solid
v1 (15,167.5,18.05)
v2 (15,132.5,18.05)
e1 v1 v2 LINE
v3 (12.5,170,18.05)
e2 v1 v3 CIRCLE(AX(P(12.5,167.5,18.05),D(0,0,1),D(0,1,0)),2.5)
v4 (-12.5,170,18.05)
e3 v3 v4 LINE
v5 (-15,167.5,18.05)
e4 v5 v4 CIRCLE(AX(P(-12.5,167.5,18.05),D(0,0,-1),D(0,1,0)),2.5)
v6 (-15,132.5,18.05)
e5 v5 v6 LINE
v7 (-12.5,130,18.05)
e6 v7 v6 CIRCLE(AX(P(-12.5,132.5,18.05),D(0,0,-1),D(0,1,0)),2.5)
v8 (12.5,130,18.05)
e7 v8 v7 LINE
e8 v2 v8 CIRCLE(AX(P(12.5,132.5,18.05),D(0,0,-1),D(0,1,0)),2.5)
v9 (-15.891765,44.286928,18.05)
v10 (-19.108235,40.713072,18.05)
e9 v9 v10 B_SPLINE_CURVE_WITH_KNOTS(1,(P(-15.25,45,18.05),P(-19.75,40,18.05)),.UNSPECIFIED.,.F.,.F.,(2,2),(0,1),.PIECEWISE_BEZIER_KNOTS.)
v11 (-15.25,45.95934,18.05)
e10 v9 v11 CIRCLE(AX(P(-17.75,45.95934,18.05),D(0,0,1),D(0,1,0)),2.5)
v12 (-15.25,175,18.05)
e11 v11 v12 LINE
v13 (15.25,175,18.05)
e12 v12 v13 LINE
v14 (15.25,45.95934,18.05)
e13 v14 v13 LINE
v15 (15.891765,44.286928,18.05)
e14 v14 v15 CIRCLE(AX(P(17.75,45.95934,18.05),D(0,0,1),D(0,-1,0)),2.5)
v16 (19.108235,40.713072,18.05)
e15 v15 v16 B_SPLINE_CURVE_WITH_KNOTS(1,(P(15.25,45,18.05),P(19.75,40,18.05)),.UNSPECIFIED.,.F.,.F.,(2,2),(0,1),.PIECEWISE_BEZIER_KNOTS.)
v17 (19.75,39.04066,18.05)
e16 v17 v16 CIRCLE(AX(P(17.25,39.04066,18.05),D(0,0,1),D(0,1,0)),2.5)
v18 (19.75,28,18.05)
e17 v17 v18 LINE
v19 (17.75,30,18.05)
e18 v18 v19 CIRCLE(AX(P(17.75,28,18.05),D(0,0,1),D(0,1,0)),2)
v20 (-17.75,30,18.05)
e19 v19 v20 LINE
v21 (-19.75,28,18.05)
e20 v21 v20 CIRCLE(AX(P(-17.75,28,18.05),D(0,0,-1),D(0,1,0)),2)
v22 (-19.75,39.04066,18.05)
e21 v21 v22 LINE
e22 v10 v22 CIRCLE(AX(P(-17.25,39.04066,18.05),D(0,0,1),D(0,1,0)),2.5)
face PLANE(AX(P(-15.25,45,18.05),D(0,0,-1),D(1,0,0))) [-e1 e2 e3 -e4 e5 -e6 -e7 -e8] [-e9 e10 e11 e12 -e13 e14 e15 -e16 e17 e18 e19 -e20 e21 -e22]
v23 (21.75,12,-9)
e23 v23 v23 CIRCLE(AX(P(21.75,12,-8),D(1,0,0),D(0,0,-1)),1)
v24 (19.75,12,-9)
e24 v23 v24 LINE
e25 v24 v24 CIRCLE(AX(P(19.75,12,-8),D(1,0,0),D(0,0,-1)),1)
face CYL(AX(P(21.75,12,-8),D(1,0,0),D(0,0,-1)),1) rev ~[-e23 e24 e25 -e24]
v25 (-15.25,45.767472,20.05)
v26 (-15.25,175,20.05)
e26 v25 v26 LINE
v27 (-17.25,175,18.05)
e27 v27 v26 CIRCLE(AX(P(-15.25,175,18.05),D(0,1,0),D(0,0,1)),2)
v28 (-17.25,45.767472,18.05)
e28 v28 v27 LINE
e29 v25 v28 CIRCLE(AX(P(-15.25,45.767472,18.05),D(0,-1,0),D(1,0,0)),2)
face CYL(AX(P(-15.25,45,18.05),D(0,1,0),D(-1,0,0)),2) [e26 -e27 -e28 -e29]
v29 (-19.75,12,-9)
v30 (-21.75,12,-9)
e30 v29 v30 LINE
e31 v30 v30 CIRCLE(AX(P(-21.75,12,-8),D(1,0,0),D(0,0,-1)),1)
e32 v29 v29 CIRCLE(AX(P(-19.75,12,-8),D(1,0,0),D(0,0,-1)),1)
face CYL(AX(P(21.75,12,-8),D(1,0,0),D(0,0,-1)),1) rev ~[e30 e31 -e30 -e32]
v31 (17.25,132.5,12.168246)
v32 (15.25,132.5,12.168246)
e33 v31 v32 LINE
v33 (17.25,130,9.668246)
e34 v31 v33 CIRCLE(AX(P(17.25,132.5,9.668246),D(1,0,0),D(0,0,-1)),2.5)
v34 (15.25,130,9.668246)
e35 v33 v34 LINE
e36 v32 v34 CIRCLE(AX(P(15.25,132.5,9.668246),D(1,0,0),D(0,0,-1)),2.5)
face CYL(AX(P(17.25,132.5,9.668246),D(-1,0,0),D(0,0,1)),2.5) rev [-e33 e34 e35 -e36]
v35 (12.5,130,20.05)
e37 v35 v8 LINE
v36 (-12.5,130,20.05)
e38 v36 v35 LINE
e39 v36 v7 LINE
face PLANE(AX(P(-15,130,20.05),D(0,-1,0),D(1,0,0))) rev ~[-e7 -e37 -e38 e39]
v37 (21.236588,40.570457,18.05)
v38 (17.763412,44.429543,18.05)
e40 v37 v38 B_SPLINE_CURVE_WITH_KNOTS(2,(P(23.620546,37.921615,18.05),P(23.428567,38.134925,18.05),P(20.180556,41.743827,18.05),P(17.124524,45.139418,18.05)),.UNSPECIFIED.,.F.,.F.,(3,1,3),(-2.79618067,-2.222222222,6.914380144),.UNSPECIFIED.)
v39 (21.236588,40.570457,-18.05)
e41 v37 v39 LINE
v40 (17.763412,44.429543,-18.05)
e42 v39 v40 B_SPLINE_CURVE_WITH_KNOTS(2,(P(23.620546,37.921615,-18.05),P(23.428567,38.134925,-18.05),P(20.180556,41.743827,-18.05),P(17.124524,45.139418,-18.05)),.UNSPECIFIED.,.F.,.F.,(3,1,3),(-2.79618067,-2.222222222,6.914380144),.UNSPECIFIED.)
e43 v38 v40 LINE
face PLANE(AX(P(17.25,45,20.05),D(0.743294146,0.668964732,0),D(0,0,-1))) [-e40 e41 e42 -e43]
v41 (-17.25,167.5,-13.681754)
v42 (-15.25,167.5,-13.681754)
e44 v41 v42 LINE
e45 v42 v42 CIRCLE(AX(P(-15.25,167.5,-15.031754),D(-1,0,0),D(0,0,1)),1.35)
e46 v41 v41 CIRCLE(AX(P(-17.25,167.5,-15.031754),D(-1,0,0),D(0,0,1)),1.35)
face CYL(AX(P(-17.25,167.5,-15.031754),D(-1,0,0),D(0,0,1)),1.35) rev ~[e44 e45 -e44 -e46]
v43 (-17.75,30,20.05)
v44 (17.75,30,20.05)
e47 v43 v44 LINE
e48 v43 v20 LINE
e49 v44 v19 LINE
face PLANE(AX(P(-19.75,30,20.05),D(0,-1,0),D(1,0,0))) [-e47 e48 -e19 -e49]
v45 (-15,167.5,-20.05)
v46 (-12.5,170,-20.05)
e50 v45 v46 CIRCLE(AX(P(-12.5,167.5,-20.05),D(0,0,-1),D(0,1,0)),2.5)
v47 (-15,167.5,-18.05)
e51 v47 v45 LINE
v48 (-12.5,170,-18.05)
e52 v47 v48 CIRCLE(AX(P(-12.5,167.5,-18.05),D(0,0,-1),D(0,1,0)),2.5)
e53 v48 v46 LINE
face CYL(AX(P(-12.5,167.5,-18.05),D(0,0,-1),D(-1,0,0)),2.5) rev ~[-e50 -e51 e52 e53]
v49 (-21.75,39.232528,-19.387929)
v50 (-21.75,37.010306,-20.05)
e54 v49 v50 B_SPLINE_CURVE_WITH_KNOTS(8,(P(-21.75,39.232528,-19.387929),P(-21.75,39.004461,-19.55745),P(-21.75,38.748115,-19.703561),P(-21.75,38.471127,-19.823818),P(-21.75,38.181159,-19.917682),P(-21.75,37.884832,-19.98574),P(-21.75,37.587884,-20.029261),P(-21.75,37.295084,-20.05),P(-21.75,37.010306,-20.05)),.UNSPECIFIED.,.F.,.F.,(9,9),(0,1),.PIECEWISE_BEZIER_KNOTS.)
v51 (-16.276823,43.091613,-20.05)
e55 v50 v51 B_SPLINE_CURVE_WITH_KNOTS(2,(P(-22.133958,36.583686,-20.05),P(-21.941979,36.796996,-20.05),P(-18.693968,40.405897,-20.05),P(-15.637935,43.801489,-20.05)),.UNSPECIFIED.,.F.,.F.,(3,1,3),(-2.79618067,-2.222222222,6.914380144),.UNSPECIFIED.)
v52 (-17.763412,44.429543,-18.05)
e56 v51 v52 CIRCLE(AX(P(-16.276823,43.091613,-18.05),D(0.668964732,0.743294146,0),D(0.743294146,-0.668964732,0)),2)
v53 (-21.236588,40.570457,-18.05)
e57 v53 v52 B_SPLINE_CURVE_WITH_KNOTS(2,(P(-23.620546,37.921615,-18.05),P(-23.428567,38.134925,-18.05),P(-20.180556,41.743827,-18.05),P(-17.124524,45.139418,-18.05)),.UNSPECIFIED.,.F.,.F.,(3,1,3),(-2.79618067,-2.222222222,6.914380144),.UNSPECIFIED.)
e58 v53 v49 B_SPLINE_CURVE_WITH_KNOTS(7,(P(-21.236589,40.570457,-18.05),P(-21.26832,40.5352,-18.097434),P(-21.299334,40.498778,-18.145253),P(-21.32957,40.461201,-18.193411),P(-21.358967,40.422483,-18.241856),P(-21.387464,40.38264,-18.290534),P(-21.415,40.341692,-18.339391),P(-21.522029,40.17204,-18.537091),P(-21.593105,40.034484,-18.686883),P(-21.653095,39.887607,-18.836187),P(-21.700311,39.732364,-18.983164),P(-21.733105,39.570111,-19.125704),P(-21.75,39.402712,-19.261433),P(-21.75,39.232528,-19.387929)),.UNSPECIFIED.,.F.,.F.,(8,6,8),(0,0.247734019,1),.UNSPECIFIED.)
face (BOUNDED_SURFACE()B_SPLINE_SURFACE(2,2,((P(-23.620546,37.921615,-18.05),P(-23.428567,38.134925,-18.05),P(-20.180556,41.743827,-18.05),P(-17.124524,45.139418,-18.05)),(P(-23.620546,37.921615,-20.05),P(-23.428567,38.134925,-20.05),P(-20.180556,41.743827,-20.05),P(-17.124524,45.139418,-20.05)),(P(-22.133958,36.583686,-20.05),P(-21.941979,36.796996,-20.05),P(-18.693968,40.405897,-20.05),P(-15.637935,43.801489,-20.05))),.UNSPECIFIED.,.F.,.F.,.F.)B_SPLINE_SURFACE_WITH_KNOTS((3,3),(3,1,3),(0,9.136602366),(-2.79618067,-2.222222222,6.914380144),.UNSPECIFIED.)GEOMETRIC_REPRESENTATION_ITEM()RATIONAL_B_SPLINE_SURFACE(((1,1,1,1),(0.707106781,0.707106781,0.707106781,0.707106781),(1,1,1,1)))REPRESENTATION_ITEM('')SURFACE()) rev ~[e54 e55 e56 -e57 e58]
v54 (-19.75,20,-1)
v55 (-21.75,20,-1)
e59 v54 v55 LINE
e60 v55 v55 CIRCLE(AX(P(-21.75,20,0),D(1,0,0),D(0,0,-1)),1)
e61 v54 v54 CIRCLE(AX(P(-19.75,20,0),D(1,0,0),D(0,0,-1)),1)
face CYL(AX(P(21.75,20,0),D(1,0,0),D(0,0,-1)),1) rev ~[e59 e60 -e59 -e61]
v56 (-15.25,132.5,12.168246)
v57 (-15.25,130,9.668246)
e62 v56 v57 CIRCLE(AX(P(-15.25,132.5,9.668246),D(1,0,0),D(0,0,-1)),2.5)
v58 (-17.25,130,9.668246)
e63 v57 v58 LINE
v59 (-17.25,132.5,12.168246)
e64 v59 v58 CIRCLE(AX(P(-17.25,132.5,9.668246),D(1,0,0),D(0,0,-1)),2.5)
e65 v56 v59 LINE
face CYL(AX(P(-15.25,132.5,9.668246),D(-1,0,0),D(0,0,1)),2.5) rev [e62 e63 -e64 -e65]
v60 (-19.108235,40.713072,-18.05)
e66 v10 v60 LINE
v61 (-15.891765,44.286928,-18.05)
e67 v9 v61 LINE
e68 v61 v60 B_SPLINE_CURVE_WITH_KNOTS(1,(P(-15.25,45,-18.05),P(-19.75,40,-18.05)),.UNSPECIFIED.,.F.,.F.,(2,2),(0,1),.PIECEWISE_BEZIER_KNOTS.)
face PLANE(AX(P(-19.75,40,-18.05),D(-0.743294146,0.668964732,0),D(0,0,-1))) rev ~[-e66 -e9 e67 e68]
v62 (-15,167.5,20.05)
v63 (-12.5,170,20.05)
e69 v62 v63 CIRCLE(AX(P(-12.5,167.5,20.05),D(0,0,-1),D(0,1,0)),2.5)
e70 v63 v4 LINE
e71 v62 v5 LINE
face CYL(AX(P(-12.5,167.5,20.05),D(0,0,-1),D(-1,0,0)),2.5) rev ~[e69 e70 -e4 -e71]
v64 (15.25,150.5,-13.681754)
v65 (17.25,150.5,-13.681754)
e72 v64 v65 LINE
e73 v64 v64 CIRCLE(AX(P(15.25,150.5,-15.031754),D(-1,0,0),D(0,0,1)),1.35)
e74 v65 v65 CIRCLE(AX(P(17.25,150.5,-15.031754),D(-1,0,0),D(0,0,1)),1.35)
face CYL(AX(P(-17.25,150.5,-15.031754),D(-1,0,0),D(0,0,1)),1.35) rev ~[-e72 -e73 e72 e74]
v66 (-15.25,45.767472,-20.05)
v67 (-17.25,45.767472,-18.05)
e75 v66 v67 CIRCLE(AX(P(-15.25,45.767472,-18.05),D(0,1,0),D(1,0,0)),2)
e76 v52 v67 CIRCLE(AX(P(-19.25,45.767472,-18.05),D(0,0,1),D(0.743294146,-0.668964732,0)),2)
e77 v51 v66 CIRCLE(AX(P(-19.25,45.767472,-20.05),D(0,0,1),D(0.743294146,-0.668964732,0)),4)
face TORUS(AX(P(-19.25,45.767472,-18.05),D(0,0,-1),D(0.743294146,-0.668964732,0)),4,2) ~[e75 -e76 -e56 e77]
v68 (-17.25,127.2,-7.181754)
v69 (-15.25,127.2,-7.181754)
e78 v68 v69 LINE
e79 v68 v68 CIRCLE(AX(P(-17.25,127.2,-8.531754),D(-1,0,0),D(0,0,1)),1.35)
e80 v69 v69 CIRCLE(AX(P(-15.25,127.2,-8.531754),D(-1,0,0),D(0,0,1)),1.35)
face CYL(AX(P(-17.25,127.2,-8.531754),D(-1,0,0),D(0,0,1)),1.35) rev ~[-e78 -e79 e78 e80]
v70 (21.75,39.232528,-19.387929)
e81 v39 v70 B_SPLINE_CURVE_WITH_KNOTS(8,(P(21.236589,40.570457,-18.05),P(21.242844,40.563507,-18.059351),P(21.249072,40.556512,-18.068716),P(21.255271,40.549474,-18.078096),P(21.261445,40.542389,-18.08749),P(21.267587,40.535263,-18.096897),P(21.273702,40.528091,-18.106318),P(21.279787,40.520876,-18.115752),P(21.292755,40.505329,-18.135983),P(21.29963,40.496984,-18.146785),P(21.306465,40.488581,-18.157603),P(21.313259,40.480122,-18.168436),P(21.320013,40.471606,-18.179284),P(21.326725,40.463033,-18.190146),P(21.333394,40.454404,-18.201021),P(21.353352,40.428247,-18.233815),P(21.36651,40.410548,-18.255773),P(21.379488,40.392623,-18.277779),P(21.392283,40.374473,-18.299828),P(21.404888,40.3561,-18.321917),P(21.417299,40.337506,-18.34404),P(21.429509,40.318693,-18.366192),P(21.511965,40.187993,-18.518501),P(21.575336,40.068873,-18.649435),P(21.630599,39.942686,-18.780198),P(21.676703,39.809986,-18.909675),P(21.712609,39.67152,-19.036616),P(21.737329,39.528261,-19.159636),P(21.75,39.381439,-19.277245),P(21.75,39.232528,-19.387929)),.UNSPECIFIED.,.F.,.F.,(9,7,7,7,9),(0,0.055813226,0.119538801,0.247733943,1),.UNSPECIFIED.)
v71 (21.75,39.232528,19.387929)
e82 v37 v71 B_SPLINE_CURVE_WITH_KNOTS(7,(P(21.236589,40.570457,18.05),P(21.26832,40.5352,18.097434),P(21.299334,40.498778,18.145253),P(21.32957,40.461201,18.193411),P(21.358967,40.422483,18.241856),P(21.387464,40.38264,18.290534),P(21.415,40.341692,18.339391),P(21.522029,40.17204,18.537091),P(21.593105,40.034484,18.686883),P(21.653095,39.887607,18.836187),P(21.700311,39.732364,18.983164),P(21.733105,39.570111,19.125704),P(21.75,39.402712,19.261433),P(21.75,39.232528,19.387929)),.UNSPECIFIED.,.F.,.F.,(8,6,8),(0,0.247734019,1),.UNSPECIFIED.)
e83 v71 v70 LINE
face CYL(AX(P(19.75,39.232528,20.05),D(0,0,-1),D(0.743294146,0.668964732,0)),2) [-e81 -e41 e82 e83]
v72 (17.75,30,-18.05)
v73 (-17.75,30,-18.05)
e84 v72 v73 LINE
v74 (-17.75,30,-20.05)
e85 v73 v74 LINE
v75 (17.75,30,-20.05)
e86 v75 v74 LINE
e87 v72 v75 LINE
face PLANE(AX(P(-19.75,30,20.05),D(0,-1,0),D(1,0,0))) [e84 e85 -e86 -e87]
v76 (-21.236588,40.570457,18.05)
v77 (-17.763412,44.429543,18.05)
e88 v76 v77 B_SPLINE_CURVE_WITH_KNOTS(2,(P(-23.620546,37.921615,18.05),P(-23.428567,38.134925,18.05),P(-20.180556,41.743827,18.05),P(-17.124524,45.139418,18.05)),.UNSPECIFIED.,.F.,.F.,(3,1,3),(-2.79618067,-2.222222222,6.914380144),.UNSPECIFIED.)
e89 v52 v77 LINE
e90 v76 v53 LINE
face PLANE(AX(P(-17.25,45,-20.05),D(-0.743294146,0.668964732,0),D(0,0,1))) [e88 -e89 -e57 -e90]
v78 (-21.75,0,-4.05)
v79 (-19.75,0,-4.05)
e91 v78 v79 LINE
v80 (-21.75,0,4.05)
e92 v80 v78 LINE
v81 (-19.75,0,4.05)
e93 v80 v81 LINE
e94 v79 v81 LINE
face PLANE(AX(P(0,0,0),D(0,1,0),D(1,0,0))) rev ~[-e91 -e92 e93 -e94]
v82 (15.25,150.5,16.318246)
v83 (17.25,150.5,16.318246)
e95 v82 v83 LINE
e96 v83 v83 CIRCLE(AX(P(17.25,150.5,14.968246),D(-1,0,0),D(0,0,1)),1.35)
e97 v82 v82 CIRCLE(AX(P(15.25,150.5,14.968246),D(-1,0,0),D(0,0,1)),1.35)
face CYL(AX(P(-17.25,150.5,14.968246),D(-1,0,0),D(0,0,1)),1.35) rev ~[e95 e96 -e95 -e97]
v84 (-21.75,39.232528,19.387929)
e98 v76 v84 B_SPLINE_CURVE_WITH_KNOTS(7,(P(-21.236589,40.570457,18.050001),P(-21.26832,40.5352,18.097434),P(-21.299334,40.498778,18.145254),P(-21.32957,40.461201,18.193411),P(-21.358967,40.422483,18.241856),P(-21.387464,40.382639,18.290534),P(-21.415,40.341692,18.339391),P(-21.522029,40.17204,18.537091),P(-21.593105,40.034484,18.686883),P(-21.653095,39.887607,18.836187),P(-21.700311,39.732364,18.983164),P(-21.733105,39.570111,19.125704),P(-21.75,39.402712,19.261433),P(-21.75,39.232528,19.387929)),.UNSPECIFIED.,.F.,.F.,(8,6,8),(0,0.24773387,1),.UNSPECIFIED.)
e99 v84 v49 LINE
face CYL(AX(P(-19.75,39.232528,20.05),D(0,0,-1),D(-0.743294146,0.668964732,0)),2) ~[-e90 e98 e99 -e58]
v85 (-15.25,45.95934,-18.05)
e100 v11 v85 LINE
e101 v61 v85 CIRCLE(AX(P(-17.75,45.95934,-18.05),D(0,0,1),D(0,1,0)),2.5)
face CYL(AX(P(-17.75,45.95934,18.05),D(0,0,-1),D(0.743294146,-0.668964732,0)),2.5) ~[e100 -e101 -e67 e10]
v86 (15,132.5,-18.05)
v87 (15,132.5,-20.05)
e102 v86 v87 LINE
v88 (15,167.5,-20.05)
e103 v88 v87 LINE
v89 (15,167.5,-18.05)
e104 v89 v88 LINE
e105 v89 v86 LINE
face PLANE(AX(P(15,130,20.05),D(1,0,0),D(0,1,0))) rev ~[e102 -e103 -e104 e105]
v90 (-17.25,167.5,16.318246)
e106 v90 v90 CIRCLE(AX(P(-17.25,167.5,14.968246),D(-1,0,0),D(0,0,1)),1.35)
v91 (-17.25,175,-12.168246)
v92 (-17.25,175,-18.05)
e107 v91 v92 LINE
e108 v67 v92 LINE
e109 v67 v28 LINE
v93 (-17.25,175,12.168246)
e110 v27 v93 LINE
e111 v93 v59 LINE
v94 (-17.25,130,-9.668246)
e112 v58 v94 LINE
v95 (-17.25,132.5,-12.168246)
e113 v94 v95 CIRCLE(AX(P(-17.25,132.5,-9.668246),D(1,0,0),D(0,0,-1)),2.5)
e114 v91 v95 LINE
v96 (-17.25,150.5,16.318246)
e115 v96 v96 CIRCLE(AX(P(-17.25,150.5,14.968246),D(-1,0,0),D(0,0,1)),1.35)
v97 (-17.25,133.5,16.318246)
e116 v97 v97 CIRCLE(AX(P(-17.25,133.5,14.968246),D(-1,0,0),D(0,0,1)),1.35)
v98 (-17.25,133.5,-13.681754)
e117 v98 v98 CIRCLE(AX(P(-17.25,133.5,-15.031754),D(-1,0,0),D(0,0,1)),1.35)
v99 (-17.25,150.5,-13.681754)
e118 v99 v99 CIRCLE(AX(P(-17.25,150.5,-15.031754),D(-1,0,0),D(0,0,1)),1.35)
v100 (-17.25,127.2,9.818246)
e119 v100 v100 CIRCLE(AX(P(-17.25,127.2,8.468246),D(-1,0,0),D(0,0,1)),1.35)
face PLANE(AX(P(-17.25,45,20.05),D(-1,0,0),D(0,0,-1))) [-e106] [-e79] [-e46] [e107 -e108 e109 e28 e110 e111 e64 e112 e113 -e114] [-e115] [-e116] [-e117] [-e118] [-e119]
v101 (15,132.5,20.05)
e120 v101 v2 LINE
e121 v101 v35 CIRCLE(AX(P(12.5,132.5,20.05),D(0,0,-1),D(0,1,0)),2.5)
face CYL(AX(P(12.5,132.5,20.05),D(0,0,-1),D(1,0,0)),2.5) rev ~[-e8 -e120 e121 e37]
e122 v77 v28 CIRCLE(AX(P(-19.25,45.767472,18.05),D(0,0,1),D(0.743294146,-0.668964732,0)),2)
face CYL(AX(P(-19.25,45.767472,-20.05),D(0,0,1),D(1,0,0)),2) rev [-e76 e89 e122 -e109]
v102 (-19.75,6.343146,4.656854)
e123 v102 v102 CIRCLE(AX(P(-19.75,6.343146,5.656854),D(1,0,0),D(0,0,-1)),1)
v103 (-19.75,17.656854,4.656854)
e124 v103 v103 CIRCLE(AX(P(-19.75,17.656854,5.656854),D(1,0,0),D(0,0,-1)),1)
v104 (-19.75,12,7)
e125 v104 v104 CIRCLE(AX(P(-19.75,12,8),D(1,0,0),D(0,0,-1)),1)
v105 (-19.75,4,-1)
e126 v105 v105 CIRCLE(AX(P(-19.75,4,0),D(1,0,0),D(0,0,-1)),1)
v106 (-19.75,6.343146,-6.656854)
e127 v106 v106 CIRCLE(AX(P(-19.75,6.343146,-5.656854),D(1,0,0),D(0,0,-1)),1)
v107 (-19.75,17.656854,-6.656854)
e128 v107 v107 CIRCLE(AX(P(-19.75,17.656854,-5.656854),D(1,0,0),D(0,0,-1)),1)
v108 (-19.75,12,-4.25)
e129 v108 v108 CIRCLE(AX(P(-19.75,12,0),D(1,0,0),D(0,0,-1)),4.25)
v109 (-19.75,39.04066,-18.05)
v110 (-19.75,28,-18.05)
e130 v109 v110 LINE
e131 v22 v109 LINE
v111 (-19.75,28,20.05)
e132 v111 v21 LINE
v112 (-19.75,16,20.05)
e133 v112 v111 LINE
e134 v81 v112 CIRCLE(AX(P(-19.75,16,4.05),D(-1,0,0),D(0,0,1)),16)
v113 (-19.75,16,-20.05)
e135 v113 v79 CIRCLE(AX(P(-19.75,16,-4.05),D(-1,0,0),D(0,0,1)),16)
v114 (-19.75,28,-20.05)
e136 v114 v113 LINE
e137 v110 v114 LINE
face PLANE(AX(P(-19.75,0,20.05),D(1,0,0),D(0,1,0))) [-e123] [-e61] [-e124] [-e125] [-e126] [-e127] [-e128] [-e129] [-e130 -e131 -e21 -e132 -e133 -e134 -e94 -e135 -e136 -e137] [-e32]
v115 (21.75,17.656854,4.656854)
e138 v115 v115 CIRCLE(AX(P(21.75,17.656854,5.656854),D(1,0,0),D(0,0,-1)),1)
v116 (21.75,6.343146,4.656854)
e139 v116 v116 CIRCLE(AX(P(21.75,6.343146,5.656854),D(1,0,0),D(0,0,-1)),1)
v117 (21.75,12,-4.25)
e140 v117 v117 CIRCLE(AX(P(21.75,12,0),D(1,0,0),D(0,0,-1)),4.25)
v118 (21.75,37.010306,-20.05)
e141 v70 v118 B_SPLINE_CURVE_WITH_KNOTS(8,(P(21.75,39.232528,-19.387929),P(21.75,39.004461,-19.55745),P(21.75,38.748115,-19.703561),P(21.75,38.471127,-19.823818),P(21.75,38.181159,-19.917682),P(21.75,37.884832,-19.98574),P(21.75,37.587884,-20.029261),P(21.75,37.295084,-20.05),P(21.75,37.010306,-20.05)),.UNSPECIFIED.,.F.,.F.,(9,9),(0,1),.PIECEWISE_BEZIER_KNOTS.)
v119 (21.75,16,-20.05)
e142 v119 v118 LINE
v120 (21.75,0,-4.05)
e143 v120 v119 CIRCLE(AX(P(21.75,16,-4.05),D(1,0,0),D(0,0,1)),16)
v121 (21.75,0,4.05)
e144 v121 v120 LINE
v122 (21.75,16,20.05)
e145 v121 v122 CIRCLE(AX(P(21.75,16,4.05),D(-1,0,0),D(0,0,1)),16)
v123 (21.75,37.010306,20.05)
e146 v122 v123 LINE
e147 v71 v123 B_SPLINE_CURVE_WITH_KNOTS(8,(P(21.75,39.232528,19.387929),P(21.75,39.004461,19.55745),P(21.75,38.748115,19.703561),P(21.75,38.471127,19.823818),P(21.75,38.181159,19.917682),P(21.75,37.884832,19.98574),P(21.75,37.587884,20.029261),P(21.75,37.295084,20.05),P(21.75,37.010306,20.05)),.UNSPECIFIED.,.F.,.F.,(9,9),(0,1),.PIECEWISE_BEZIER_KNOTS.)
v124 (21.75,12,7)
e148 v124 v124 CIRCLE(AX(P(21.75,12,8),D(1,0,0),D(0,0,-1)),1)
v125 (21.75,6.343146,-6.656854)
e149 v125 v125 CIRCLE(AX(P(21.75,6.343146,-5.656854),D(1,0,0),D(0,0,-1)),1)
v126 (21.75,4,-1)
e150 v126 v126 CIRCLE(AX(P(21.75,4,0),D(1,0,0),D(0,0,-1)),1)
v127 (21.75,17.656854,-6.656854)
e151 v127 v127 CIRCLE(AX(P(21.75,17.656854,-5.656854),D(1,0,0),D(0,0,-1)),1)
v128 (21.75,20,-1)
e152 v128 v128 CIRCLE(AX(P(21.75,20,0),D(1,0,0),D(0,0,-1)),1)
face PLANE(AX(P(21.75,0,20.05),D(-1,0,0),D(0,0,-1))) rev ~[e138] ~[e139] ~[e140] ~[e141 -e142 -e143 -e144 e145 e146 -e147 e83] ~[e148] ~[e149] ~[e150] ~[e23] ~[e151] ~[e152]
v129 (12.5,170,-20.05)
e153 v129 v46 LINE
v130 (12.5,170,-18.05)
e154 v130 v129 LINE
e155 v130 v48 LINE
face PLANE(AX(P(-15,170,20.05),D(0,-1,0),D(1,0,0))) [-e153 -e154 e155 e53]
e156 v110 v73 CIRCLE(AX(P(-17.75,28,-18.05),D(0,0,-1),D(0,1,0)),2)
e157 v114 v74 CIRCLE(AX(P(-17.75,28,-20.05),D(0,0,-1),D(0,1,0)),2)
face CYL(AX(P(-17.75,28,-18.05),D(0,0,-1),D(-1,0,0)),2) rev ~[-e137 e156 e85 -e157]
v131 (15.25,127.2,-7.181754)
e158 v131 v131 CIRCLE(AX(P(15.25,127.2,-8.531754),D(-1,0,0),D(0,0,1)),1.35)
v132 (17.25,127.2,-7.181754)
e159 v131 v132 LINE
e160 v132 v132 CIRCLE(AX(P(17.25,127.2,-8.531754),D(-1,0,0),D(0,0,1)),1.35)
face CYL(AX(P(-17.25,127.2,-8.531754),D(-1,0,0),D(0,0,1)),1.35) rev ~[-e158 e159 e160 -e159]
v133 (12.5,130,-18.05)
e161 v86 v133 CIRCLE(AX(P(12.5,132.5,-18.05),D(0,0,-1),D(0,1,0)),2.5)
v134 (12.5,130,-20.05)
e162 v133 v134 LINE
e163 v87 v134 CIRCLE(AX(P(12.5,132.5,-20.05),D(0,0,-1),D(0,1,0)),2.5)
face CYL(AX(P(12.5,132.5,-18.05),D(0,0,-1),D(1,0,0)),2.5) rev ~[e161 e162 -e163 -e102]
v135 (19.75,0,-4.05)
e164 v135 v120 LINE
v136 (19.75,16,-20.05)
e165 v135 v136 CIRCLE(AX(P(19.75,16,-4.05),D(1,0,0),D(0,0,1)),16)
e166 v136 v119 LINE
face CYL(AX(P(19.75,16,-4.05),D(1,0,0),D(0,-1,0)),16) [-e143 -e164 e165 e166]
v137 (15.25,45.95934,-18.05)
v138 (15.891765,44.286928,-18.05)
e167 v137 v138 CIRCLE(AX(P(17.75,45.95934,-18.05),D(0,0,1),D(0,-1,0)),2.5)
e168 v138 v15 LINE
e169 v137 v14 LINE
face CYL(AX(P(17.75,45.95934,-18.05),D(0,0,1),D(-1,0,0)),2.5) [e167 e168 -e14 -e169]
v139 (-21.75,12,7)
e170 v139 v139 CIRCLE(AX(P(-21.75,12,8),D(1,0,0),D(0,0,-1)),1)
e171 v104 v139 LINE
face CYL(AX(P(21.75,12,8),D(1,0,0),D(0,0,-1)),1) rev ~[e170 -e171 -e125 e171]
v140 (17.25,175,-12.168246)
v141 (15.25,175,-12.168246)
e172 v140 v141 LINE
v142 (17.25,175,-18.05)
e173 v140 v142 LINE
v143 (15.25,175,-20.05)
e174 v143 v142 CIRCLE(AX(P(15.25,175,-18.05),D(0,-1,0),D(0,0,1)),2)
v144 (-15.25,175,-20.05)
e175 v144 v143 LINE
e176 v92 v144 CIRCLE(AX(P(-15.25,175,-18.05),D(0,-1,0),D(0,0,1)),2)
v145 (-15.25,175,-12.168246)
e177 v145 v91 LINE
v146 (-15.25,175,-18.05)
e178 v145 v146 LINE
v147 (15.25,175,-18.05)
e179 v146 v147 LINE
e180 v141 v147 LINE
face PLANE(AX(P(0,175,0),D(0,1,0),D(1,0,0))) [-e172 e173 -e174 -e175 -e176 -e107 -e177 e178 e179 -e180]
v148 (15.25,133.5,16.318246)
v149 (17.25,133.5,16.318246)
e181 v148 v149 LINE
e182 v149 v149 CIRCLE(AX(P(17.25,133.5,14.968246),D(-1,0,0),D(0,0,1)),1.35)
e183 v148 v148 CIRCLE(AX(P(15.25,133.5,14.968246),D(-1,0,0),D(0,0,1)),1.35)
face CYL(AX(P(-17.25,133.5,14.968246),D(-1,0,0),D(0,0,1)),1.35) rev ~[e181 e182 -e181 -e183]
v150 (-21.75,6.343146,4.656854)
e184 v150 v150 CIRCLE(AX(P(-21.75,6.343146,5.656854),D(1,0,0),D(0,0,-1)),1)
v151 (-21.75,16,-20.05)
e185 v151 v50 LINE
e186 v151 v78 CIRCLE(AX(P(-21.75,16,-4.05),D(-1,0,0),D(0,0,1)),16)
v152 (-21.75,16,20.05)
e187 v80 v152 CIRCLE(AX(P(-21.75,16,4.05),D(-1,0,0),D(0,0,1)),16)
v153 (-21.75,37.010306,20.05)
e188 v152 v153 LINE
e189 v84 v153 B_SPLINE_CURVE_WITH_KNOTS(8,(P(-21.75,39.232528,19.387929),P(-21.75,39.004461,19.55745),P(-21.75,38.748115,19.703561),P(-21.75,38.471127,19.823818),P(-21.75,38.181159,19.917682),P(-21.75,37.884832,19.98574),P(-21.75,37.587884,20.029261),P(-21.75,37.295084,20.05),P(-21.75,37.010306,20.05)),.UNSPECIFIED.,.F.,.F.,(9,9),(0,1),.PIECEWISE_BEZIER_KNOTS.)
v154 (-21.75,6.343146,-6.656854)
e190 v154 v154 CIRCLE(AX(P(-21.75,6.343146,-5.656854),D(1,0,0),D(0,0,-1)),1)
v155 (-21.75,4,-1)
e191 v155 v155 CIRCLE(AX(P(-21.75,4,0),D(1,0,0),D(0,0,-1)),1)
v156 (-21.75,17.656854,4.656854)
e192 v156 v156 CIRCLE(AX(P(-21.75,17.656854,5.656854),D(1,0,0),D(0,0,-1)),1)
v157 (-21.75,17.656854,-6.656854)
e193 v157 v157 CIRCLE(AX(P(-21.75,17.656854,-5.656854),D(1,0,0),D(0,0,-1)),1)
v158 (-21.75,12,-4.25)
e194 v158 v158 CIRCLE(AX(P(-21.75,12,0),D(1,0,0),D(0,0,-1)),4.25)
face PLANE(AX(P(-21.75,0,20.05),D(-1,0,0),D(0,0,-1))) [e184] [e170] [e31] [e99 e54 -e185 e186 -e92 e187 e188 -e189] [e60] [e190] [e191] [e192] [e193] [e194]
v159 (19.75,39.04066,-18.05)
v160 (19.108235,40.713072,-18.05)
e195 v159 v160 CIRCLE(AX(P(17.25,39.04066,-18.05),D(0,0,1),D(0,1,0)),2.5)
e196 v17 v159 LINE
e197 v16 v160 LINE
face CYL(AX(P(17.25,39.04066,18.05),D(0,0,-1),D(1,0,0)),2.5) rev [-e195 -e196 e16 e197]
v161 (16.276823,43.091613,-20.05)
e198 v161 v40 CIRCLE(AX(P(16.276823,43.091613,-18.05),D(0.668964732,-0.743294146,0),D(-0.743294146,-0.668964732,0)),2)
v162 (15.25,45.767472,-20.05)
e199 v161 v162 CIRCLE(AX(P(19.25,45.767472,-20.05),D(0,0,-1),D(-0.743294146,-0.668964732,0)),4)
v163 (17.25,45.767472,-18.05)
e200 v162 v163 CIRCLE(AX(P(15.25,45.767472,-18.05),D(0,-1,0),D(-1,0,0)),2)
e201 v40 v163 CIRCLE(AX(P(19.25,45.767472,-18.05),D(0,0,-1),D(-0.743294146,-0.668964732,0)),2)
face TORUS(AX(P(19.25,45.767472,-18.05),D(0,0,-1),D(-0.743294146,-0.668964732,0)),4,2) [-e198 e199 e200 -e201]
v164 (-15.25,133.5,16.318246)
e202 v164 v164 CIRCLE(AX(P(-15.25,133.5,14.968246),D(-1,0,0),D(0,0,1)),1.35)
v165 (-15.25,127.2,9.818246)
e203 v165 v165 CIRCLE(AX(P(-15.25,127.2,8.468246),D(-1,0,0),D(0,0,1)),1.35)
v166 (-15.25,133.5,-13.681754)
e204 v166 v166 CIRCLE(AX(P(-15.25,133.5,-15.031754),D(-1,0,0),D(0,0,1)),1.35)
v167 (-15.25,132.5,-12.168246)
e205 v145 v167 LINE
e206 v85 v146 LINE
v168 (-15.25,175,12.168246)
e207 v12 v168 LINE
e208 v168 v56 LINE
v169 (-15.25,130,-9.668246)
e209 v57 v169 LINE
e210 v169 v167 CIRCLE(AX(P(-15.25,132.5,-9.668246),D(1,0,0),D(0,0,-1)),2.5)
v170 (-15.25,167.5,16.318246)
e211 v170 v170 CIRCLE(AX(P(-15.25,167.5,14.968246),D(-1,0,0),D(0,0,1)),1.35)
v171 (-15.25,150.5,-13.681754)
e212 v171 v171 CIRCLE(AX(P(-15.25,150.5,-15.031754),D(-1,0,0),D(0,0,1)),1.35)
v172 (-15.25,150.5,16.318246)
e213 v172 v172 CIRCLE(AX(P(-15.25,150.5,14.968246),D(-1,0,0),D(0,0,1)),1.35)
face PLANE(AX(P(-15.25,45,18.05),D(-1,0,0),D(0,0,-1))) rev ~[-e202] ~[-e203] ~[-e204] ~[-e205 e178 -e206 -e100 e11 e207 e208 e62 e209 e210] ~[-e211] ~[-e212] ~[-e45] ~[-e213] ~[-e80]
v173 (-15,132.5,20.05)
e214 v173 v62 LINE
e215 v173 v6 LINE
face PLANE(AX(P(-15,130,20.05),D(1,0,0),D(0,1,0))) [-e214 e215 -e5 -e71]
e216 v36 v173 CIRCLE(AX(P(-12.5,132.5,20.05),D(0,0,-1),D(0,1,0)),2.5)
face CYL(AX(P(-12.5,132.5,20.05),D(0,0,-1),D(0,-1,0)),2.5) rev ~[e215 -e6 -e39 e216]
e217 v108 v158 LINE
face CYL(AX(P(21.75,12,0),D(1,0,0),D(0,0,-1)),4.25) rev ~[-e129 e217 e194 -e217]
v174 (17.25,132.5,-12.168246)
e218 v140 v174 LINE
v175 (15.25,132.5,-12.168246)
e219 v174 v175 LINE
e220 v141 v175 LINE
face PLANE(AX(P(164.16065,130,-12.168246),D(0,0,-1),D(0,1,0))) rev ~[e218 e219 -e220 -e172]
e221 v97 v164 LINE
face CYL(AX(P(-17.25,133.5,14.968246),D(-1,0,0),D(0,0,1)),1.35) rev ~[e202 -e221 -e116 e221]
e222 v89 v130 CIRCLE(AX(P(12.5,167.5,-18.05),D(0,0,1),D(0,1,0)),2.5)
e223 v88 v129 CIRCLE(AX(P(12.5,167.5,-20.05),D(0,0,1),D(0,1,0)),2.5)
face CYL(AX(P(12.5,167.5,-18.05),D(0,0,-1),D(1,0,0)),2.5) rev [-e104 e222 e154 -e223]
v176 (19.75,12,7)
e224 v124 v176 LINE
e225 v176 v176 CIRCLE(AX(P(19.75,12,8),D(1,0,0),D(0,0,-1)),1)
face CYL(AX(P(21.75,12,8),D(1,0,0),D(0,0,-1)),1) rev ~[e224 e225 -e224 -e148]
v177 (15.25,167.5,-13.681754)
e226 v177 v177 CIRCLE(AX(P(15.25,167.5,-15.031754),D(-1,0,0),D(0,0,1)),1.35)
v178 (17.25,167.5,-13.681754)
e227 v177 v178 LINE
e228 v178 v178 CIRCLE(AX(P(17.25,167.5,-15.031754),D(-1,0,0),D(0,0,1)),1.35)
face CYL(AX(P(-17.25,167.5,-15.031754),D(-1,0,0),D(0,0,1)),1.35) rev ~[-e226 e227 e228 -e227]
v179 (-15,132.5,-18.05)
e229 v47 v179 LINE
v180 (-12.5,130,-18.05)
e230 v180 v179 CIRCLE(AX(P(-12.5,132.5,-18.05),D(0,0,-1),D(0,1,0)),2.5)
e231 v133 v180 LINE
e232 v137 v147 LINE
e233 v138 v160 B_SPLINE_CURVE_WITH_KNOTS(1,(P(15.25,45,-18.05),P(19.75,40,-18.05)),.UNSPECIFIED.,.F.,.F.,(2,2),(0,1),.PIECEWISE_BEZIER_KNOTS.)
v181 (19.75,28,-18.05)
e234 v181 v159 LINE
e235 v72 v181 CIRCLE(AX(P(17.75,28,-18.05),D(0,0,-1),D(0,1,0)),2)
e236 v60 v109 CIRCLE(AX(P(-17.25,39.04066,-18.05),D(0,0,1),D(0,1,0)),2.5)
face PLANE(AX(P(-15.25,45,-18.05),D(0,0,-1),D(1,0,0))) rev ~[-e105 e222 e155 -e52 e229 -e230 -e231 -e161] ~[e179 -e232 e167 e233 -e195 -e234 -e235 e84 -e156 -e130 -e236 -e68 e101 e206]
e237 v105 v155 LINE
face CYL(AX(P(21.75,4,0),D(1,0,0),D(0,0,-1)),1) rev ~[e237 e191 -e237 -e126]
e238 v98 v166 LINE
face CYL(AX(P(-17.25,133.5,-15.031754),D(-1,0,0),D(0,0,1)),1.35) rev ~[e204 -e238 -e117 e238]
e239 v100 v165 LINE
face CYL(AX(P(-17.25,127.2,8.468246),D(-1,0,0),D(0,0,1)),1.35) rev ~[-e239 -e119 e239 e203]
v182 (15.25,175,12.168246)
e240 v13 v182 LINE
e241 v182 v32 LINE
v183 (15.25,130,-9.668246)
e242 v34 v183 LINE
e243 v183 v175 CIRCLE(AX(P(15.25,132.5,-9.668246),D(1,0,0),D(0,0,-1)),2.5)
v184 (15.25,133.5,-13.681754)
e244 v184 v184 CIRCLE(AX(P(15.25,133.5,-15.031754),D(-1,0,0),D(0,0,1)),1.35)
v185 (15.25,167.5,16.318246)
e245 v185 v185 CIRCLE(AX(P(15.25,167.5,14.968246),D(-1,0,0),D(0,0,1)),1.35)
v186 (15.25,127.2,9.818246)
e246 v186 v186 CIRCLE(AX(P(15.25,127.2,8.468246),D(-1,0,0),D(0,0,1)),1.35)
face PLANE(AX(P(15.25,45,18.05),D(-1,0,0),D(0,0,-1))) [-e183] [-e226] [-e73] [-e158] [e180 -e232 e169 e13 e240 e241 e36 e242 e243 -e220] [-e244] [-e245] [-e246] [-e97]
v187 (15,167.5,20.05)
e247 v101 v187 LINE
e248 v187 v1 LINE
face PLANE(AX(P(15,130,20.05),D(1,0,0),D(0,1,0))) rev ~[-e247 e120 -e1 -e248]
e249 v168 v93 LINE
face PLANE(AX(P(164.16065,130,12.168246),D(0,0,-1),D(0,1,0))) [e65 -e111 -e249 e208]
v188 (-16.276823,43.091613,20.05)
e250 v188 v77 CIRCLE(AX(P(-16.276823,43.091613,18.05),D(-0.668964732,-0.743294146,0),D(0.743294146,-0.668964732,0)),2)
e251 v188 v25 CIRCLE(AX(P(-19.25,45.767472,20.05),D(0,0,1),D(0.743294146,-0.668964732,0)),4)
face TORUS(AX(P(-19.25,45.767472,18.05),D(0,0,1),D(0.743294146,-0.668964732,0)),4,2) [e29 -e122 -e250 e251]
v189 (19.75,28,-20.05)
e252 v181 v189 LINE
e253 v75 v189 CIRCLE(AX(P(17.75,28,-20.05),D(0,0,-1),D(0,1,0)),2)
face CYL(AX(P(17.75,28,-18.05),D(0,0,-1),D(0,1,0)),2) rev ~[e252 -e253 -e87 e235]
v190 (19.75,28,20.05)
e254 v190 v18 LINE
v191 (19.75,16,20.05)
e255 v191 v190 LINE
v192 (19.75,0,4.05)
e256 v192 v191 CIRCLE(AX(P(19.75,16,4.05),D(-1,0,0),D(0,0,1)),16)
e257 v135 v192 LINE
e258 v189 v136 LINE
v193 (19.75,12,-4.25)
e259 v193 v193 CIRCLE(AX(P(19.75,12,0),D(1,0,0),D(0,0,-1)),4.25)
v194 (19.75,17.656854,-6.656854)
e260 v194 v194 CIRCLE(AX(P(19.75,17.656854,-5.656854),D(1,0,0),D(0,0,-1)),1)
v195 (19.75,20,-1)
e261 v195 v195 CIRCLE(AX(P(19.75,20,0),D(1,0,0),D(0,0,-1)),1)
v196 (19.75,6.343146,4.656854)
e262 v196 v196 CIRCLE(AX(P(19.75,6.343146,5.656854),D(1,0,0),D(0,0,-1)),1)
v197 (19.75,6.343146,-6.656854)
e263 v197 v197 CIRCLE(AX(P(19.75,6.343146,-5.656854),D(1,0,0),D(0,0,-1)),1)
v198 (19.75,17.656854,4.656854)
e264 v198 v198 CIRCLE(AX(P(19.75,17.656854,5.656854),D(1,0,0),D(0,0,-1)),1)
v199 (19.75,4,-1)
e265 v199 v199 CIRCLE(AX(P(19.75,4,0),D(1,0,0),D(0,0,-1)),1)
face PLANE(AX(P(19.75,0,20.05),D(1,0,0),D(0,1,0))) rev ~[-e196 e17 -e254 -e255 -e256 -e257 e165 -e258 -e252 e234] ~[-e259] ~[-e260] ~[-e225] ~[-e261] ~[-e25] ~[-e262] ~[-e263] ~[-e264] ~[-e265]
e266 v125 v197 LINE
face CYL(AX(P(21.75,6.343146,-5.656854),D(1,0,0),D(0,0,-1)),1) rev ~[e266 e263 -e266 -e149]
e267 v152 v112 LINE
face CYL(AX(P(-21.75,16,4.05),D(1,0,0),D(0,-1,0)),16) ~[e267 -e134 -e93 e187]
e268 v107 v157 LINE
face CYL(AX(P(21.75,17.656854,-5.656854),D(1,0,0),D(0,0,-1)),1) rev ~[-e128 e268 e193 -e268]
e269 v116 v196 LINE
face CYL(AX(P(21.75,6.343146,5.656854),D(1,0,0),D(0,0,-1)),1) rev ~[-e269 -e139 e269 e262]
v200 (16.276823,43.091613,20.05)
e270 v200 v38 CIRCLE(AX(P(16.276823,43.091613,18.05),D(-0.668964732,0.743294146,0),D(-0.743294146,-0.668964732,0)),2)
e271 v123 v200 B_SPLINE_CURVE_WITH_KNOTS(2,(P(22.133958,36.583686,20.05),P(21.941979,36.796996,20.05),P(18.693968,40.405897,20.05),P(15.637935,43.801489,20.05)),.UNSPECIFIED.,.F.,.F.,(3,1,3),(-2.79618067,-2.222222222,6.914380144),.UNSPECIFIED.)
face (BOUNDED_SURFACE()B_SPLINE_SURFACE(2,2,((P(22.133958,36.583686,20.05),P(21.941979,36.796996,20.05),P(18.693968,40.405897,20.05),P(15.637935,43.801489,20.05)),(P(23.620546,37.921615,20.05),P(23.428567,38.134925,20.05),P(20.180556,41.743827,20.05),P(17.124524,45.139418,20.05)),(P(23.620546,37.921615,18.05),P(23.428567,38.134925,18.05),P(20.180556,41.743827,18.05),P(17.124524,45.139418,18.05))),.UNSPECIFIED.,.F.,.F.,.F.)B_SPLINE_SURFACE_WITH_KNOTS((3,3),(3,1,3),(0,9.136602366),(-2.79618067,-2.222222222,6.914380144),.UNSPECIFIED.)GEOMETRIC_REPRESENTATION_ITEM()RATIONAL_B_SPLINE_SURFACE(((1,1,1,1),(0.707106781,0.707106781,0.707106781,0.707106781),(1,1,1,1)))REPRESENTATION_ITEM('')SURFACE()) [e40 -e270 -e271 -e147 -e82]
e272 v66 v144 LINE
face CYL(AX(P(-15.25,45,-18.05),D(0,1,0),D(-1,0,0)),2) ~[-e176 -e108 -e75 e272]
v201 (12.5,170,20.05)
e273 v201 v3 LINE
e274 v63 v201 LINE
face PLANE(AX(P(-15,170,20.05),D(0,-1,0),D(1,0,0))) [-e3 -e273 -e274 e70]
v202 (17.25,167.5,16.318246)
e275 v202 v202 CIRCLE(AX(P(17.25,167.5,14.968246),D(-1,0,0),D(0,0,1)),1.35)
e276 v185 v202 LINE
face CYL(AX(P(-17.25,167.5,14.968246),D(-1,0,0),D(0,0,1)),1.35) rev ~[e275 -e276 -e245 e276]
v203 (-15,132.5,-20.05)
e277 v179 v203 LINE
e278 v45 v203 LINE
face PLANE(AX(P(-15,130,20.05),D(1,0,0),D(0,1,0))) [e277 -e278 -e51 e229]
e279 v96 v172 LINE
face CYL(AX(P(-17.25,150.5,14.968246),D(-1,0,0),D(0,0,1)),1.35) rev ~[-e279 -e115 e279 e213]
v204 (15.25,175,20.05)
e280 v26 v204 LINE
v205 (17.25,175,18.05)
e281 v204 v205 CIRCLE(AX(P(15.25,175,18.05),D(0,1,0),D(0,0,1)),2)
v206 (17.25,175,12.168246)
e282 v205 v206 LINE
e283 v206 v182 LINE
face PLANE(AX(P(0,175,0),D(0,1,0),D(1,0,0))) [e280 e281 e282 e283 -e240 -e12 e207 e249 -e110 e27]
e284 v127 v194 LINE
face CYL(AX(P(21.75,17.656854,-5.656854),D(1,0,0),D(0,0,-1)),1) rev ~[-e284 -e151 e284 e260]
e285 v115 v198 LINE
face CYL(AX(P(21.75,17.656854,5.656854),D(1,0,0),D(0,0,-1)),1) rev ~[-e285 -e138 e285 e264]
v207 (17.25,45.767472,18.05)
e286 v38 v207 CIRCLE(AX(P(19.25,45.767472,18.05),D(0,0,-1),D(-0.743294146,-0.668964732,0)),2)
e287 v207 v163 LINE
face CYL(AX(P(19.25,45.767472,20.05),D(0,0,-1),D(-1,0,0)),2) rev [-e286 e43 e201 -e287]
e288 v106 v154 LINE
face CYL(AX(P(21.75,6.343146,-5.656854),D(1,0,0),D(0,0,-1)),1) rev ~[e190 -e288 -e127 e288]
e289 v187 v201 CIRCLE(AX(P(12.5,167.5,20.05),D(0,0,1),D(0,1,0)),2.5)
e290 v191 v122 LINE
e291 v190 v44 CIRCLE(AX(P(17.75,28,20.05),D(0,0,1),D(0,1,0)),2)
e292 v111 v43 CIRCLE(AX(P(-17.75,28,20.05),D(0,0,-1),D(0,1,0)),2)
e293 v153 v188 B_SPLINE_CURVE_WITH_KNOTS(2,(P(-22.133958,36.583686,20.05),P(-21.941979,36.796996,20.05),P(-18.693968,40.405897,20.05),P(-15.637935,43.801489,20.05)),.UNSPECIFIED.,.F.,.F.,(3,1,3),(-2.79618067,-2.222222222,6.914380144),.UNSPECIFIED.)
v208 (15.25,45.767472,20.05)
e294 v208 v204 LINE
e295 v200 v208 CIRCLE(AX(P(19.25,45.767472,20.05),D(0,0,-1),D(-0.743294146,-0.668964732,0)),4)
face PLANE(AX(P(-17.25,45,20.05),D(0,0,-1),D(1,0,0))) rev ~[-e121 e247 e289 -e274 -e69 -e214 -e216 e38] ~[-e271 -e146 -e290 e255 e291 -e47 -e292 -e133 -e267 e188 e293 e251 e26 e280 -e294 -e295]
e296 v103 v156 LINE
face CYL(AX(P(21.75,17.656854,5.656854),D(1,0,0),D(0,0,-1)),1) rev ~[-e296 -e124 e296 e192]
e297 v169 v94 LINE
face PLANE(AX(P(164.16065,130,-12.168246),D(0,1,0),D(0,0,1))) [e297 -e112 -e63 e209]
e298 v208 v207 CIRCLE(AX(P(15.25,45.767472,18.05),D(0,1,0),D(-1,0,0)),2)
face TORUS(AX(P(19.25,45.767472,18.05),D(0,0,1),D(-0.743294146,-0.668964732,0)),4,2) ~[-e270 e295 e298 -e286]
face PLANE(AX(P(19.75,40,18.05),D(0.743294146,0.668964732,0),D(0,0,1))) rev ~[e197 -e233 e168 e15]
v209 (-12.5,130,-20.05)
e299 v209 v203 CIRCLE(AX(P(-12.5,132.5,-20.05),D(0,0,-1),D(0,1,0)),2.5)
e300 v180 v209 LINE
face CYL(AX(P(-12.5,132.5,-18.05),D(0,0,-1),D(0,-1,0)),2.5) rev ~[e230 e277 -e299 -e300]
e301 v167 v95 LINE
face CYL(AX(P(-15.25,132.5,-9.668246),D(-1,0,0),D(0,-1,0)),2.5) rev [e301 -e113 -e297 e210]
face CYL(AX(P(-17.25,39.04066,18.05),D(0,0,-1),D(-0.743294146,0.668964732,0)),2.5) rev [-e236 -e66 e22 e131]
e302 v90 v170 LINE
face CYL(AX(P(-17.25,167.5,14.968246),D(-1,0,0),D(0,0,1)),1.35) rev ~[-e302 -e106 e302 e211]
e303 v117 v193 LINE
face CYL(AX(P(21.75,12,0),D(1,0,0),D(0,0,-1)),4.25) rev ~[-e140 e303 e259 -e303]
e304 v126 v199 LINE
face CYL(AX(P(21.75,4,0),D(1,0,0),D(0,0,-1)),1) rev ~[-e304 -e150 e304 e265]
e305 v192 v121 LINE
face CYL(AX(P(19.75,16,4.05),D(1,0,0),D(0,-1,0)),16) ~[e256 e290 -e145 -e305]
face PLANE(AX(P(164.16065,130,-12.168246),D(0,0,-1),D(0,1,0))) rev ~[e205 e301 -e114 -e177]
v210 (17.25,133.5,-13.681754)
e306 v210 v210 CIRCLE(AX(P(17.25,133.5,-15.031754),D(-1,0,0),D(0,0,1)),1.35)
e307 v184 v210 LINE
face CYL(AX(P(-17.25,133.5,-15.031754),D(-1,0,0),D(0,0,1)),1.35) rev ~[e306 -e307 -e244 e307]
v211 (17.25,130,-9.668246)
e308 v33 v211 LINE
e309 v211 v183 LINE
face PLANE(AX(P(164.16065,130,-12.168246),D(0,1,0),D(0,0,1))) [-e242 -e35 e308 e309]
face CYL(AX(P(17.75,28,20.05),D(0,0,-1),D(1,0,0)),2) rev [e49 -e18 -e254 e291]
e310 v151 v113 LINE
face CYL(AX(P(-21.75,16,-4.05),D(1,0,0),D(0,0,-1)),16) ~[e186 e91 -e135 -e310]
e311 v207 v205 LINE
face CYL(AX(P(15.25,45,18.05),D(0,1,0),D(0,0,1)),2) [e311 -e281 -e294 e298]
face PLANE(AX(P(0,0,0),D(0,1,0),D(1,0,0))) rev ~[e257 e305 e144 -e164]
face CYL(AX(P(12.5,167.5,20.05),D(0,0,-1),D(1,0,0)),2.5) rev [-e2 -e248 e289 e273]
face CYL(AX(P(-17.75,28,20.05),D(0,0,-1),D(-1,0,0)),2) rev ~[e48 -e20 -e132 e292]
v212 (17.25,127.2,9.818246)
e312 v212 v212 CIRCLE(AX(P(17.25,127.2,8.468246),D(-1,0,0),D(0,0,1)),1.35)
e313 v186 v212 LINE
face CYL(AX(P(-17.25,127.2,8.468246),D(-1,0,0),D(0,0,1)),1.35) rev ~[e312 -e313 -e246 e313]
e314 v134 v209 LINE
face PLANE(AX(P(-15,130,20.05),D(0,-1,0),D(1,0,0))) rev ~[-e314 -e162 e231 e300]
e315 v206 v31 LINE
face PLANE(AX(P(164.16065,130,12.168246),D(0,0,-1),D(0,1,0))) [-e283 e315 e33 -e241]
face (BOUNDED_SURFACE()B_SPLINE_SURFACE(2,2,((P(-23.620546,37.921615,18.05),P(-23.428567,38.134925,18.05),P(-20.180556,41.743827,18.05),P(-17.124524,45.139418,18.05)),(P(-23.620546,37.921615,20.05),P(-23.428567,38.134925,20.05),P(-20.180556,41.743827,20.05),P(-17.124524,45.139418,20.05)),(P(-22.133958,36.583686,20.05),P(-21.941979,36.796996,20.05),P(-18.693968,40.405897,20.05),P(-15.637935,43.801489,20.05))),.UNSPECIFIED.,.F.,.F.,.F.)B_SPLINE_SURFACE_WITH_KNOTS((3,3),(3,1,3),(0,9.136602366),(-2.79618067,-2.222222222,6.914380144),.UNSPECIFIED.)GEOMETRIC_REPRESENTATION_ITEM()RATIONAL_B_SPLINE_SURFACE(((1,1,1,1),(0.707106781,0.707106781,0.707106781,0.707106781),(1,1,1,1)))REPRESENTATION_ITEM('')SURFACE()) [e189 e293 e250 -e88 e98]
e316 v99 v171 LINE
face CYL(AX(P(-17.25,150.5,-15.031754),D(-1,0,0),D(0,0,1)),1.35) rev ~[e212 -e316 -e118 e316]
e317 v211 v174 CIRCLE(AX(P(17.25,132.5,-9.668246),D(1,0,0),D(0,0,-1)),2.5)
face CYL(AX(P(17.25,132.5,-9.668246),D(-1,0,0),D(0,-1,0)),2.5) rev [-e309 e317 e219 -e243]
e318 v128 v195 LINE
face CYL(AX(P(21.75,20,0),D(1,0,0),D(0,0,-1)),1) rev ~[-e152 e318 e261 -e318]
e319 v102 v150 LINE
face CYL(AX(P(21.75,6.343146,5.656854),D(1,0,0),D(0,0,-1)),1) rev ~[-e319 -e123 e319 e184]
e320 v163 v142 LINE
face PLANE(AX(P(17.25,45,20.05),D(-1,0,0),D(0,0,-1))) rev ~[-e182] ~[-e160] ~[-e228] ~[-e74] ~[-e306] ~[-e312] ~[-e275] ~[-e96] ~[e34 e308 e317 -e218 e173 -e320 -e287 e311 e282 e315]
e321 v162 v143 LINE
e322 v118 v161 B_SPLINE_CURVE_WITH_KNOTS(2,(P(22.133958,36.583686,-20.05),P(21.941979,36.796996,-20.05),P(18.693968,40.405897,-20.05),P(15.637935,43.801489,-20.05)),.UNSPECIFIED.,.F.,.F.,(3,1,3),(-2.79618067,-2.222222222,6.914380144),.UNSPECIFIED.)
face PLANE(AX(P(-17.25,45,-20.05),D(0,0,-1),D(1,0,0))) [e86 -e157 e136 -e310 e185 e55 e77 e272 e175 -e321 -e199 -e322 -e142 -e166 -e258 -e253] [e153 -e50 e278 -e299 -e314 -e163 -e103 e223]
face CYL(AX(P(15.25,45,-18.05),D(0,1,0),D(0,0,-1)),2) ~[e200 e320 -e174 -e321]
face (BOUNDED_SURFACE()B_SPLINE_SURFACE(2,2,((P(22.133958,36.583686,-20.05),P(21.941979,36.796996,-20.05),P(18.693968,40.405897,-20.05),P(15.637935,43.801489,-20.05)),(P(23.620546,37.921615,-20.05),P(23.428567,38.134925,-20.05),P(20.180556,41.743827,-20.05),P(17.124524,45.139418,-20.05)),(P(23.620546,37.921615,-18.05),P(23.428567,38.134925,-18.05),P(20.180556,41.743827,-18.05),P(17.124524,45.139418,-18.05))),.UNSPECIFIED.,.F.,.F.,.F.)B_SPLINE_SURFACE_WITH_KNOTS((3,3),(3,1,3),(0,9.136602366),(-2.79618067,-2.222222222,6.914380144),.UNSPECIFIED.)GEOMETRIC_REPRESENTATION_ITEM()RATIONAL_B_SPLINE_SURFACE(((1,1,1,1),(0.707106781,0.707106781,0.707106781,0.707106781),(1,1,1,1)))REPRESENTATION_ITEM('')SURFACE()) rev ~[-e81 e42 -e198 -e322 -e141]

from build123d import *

# Parameters (mm, degrees)
SKETCH1_W               = 43.5
SKETCH1_H               = 40.1
SKETCH1_W_2             = 39.5
SKETCH1_H_2             = 36.1
BOSS_EXTRUDE1_DEPTH     = 40
SKETCH3_R               = 1
SKETCH3_R_2             = 4.25
CUT_EXTRUDE2_DEPTH      = 63.403946189
SKETCH4_W               = 39.5
SKETCH4_H               = 30
CUT_EXTRUDE3_DEPTH      = 61.671842728
FILLET1_R               = 16
SKETCH12_W              = 34.5
SKETCH12_H              = 40.1
SKETCH12_W_2            = 30.5
SKETCH12_H_2            = 36.1
BOSS_EXTRUDE2_DEPTH     = 130
CUT_EXTRUDE4_DEPTH      = 181.41064976
CUT_EXTRUDE4_DEPTH_BACK = 181.41064976
SKETCH5_W               = 24.33649167
SKETCH5_H               = 45
SKETCH6_W               = 30
SKETCH6_H               = 40
CUT_EXTRUDE5_DEPTH      = 181.848203053
FILLET2_R               = 2
FILLET3_R               = 2.5
SKETCH16_R              = 1.35
CUT_EXTRUDE6_DEPTH      = 181.41064976


with BuildPart() as part:
    # Sketch1 → Boss-Extrude1 (new body)
    with BuildSketch(Plane(origin=(0, 0, 0), x_dir=(1, 0, 0), z_dir=(0, 1, 0))):
        Rectangle(SKETCH1_W, SKETCH1_H)
        Rectangle(SKETCH1_W_2, SKETCH1_H_2, mode=Mode.SUBTRACT)
    extrude(amount=BOSS_EXTRUDE1_DEPTH)

    # Sketch3 → Cut-Extrude2 (cut, through all)
    with BuildSketch(Plane(origin=(21.75, 0, 0), x_dir=(0, 0, -1), z_dir=(1, 0, 0))):
        with Locations((0, 20)):
            Circle(SKETCH3_R)
        with Locations((5.656854249, 17.656854249)):
            Circle(SKETCH3_R)
        with Locations((8, 12)):
            Circle(SKETCH3_R)
        with Locations((5.656854249, 6.343145751)):
            Circle(SKETCH3_R)
        with Locations((0, 4)):
            Circle(SKETCH3_R)
        with Locations((-5.656854249, 6.343145751)):
            Circle(SKETCH3_R)
        with Locations((-8, 12)):
            Circle(SKETCH3_R)
        with Locations((-5.656854249, 17.656854249)):
            Circle(SKETCH3_R)
        with Locations((0, 12)):
            Circle(SKETCH3_R_2)
    extrude(amount=-CUT_EXTRUDE2_DEPTH, mode=Mode.SUBTRACT)

    # Sketch4 → Cut-Extrude3 (cut, through all)
    with BuildSketch(Plane.XY.offset(20.05)):
        with Locations((0, 15)):
            Rectangle(SKETCH4_W, SKETCH4_H)
    extrude(amount=-CUT_EXTRUDE3_DEPTH, mode=Mode.SUBTRACT)

    # Fillet1
    fillet1_edges = [part.edges().sort_by_distance(p)[0] for p in [
        (20.75, 0, 20.05),
        (-20.75, 0, -20.05),
        (-20.75, 0, 20.05),
        (20.75, 0, -20.05),
    ]]
    fillet(fillet1_edges, radius=FILLET1_R)

    # Sketch8 → Loft2 section 0
    with BuildSketch(Plane(origin=(0, 40, 0), x_dir=(1, 0, 0), z_dir=(0, 1, 0))):
        with BuildLine():
            Line((-21.75, -20.05), (21.75, -20.05))
            Line((21.75, -20.05), (21.75, 20.05))
            Line((21.75, 20.05), (-21.75, 20.05))
            Line((-21.75, 20.05), (-21.75, -20.05))
        make_face()
    # Sketch7 → Loft2 section 1
    with BuildSketch(Plane(origin=(0, 45, 0), x_dir=(1, 0, 0), z_dir=(0, 1, 0))):
        with BuildLine():
            Line((-17.25, -20.05), (17.25, -20.05))
            Line((17.25, -20.05), (17.25, 20.05))
            Line((17.25, 20.05), (-17.25, 20.05))
            Line((-17.25, 20.05), (-17.25, -20.05))
        make_face()
    loft()

    # Sketch11 → Cut-Loft1 section 0
    with BuildSketch(Plane(origin=(0, 45, 0), x_dir=(1, 0, 0), z_dir=(0, 1, 0))):
        with BuildLine():
            Line((-15.25, -18.05), (-15.25, 18.05))
            Line((-15.25, 18.05), (15.25, 18.05))
            Line((15.25, 18.05), (15.25, -18.05))
            Line((15.25, -18.05), (-15.25, -18.05))
        make_face()
    # Sketch10 → Cut-Loft1 section 1
    with BuildSketch(Plane(origin=(0, 40, 0), x_dir=(1, 0, 0), z_dir=(0, 1, 0))):
        with BuildLine():
            Line((-19.75, -18.05), (19.75, -18.05))
            Line((19.75, -18.05), (19.75, 18.05))
            Line((19.75, 18.05), (-19.75, 18.05))
            Line((-19.75, 18.05), (-19.75, -18.05))
        make_face()
    loft(mode=Mode.SUBTRACT)

    # Sketch12 → Boss-Extrude2 (add)
    with BuildSketch(Plane(origin=(0, 45, 0), x_dir=(1, 0, 0), z_dir=(0, 1, 0))):
        Rectangle(SKETCH12_W, SKETCH12_H)
        Rectangle(SKETCH12_W_2, SKETCH12_H_2, mode=Mode.SUBTRACT)
    extrude(amount=BOSS_EXTRUDE2_DEPTH)

    # Sketch5 → Cut-Extrude4 (cut, two sides: drawn at the far end of the back side and taken through both)
    with BuildSketch(Plane.ZY.offset(17.25).offset(-CUT_EXTRUDE4_DEPTH_BACK)):
        with Locations((0, 152.5)):
            Rectangle(SKETCH5_W, SKETCH5_H)
    extrude(amount=CUT_EXTRUDE4_DEPTH + CUT_EXTRUDE4_DEPTH_BACK, mode=Mode.SUBTRACT)

    # Sketch6 → Cut-Extrude5 (cut, through all)
    with BuildSketch(Plane.XY.offset(20.05)):
        with Locations((0, 150)):
            Rectangle(SKETCH6_W, SKETCH6_H)
    extrude(amount=-CUT_EXTRUDE5_DEPTH, mode=Mode.SUBTRACT)

    # Fillet2
    fillet2_edges = [part.edges().sort_by_distance(p)[0] for p in [
        (-19.75, 30, 19.05),
        (19.75, 30, 19.05),
        (19.75, 30, -19.05),
        (-19.75, 30, -19.05),
        (-21.75, 40, 0),
        (17.25, 45, 0),
        (-17.25, 45, 0),
        (19.5, 42.5, 20.05),
        (-19.5, 42.5, 20.05),
        (19.5, 42.5, -20.05),
        (-19.5, 42.5, -20.05),
        (17.25, 110, -20.05),
        (-17.25, 110, -20.05),
        (-17.25, 110, 20.05),
        (17.25, 110, 20.05),
        (21.75, 40, 0),
    ]]
    fillet(fillet2_edges, radius=FILLET2_R)

    # Fillet3
    fillet3_edges = [part.edges().sort_by_distance(p)[0] for p in [
        (-19.75, 40, 0),
        (19.75, 40, 0),
        (15.25, 45, 0),
        (-15.25, 45, 0),
        (16.25, 130, -12.168245835),
        (16.25, 130, 12.168245835),
        (-15, 170, -19.05),
        (-15, 130, -19.05),
        (-16.25, 130, 12.168245835),
        (-16.25, 130, -12.168245835),
        (15, 130, -19.05),
        (15, 170, -19.05),
        (15, 170, 19.05),
        (-15, 170, 19.05),
        (-15, 130, 19.05),
        (15, 130, 19.05),
    ]]
    fillet(fillet3_edges, radius=FILLET3_R)

    # Sketch16 → Cut-Extrude6 (cut, through all)
    with BuildSketch(Plane.ZY.offset(17.25)):
        with Locations((-15.031754165, 167.5)):
            Circle(SKETCH16_R)
        with Locations((-15.031754165, 150.5)):
            Circle(SKETCH16_R)
        with Locations((-15.031754165, 133.5)):
            Circle(SKETCH16_R)
        with Locations((-8.531754165, 127.2)):
            Circle(SKETCH16_R)
        with Locations((8.468245835, 127.2)):
            Circle(SKETCH16_R)
        with Locations((14.968245835, 133.5)):
            Circle(SKETCH16_R)
        with Locations((14.968245835, 150.5)):
            Circle(SKETCH16_R)
        with Locations((14.968245835, 167.5)):
            Circle(SKETCH16_R)
    extrude(amount=-CUT_EXTRUDE6_DEPTH, mode=Mode.SUBTRACT)


solid = part.part
